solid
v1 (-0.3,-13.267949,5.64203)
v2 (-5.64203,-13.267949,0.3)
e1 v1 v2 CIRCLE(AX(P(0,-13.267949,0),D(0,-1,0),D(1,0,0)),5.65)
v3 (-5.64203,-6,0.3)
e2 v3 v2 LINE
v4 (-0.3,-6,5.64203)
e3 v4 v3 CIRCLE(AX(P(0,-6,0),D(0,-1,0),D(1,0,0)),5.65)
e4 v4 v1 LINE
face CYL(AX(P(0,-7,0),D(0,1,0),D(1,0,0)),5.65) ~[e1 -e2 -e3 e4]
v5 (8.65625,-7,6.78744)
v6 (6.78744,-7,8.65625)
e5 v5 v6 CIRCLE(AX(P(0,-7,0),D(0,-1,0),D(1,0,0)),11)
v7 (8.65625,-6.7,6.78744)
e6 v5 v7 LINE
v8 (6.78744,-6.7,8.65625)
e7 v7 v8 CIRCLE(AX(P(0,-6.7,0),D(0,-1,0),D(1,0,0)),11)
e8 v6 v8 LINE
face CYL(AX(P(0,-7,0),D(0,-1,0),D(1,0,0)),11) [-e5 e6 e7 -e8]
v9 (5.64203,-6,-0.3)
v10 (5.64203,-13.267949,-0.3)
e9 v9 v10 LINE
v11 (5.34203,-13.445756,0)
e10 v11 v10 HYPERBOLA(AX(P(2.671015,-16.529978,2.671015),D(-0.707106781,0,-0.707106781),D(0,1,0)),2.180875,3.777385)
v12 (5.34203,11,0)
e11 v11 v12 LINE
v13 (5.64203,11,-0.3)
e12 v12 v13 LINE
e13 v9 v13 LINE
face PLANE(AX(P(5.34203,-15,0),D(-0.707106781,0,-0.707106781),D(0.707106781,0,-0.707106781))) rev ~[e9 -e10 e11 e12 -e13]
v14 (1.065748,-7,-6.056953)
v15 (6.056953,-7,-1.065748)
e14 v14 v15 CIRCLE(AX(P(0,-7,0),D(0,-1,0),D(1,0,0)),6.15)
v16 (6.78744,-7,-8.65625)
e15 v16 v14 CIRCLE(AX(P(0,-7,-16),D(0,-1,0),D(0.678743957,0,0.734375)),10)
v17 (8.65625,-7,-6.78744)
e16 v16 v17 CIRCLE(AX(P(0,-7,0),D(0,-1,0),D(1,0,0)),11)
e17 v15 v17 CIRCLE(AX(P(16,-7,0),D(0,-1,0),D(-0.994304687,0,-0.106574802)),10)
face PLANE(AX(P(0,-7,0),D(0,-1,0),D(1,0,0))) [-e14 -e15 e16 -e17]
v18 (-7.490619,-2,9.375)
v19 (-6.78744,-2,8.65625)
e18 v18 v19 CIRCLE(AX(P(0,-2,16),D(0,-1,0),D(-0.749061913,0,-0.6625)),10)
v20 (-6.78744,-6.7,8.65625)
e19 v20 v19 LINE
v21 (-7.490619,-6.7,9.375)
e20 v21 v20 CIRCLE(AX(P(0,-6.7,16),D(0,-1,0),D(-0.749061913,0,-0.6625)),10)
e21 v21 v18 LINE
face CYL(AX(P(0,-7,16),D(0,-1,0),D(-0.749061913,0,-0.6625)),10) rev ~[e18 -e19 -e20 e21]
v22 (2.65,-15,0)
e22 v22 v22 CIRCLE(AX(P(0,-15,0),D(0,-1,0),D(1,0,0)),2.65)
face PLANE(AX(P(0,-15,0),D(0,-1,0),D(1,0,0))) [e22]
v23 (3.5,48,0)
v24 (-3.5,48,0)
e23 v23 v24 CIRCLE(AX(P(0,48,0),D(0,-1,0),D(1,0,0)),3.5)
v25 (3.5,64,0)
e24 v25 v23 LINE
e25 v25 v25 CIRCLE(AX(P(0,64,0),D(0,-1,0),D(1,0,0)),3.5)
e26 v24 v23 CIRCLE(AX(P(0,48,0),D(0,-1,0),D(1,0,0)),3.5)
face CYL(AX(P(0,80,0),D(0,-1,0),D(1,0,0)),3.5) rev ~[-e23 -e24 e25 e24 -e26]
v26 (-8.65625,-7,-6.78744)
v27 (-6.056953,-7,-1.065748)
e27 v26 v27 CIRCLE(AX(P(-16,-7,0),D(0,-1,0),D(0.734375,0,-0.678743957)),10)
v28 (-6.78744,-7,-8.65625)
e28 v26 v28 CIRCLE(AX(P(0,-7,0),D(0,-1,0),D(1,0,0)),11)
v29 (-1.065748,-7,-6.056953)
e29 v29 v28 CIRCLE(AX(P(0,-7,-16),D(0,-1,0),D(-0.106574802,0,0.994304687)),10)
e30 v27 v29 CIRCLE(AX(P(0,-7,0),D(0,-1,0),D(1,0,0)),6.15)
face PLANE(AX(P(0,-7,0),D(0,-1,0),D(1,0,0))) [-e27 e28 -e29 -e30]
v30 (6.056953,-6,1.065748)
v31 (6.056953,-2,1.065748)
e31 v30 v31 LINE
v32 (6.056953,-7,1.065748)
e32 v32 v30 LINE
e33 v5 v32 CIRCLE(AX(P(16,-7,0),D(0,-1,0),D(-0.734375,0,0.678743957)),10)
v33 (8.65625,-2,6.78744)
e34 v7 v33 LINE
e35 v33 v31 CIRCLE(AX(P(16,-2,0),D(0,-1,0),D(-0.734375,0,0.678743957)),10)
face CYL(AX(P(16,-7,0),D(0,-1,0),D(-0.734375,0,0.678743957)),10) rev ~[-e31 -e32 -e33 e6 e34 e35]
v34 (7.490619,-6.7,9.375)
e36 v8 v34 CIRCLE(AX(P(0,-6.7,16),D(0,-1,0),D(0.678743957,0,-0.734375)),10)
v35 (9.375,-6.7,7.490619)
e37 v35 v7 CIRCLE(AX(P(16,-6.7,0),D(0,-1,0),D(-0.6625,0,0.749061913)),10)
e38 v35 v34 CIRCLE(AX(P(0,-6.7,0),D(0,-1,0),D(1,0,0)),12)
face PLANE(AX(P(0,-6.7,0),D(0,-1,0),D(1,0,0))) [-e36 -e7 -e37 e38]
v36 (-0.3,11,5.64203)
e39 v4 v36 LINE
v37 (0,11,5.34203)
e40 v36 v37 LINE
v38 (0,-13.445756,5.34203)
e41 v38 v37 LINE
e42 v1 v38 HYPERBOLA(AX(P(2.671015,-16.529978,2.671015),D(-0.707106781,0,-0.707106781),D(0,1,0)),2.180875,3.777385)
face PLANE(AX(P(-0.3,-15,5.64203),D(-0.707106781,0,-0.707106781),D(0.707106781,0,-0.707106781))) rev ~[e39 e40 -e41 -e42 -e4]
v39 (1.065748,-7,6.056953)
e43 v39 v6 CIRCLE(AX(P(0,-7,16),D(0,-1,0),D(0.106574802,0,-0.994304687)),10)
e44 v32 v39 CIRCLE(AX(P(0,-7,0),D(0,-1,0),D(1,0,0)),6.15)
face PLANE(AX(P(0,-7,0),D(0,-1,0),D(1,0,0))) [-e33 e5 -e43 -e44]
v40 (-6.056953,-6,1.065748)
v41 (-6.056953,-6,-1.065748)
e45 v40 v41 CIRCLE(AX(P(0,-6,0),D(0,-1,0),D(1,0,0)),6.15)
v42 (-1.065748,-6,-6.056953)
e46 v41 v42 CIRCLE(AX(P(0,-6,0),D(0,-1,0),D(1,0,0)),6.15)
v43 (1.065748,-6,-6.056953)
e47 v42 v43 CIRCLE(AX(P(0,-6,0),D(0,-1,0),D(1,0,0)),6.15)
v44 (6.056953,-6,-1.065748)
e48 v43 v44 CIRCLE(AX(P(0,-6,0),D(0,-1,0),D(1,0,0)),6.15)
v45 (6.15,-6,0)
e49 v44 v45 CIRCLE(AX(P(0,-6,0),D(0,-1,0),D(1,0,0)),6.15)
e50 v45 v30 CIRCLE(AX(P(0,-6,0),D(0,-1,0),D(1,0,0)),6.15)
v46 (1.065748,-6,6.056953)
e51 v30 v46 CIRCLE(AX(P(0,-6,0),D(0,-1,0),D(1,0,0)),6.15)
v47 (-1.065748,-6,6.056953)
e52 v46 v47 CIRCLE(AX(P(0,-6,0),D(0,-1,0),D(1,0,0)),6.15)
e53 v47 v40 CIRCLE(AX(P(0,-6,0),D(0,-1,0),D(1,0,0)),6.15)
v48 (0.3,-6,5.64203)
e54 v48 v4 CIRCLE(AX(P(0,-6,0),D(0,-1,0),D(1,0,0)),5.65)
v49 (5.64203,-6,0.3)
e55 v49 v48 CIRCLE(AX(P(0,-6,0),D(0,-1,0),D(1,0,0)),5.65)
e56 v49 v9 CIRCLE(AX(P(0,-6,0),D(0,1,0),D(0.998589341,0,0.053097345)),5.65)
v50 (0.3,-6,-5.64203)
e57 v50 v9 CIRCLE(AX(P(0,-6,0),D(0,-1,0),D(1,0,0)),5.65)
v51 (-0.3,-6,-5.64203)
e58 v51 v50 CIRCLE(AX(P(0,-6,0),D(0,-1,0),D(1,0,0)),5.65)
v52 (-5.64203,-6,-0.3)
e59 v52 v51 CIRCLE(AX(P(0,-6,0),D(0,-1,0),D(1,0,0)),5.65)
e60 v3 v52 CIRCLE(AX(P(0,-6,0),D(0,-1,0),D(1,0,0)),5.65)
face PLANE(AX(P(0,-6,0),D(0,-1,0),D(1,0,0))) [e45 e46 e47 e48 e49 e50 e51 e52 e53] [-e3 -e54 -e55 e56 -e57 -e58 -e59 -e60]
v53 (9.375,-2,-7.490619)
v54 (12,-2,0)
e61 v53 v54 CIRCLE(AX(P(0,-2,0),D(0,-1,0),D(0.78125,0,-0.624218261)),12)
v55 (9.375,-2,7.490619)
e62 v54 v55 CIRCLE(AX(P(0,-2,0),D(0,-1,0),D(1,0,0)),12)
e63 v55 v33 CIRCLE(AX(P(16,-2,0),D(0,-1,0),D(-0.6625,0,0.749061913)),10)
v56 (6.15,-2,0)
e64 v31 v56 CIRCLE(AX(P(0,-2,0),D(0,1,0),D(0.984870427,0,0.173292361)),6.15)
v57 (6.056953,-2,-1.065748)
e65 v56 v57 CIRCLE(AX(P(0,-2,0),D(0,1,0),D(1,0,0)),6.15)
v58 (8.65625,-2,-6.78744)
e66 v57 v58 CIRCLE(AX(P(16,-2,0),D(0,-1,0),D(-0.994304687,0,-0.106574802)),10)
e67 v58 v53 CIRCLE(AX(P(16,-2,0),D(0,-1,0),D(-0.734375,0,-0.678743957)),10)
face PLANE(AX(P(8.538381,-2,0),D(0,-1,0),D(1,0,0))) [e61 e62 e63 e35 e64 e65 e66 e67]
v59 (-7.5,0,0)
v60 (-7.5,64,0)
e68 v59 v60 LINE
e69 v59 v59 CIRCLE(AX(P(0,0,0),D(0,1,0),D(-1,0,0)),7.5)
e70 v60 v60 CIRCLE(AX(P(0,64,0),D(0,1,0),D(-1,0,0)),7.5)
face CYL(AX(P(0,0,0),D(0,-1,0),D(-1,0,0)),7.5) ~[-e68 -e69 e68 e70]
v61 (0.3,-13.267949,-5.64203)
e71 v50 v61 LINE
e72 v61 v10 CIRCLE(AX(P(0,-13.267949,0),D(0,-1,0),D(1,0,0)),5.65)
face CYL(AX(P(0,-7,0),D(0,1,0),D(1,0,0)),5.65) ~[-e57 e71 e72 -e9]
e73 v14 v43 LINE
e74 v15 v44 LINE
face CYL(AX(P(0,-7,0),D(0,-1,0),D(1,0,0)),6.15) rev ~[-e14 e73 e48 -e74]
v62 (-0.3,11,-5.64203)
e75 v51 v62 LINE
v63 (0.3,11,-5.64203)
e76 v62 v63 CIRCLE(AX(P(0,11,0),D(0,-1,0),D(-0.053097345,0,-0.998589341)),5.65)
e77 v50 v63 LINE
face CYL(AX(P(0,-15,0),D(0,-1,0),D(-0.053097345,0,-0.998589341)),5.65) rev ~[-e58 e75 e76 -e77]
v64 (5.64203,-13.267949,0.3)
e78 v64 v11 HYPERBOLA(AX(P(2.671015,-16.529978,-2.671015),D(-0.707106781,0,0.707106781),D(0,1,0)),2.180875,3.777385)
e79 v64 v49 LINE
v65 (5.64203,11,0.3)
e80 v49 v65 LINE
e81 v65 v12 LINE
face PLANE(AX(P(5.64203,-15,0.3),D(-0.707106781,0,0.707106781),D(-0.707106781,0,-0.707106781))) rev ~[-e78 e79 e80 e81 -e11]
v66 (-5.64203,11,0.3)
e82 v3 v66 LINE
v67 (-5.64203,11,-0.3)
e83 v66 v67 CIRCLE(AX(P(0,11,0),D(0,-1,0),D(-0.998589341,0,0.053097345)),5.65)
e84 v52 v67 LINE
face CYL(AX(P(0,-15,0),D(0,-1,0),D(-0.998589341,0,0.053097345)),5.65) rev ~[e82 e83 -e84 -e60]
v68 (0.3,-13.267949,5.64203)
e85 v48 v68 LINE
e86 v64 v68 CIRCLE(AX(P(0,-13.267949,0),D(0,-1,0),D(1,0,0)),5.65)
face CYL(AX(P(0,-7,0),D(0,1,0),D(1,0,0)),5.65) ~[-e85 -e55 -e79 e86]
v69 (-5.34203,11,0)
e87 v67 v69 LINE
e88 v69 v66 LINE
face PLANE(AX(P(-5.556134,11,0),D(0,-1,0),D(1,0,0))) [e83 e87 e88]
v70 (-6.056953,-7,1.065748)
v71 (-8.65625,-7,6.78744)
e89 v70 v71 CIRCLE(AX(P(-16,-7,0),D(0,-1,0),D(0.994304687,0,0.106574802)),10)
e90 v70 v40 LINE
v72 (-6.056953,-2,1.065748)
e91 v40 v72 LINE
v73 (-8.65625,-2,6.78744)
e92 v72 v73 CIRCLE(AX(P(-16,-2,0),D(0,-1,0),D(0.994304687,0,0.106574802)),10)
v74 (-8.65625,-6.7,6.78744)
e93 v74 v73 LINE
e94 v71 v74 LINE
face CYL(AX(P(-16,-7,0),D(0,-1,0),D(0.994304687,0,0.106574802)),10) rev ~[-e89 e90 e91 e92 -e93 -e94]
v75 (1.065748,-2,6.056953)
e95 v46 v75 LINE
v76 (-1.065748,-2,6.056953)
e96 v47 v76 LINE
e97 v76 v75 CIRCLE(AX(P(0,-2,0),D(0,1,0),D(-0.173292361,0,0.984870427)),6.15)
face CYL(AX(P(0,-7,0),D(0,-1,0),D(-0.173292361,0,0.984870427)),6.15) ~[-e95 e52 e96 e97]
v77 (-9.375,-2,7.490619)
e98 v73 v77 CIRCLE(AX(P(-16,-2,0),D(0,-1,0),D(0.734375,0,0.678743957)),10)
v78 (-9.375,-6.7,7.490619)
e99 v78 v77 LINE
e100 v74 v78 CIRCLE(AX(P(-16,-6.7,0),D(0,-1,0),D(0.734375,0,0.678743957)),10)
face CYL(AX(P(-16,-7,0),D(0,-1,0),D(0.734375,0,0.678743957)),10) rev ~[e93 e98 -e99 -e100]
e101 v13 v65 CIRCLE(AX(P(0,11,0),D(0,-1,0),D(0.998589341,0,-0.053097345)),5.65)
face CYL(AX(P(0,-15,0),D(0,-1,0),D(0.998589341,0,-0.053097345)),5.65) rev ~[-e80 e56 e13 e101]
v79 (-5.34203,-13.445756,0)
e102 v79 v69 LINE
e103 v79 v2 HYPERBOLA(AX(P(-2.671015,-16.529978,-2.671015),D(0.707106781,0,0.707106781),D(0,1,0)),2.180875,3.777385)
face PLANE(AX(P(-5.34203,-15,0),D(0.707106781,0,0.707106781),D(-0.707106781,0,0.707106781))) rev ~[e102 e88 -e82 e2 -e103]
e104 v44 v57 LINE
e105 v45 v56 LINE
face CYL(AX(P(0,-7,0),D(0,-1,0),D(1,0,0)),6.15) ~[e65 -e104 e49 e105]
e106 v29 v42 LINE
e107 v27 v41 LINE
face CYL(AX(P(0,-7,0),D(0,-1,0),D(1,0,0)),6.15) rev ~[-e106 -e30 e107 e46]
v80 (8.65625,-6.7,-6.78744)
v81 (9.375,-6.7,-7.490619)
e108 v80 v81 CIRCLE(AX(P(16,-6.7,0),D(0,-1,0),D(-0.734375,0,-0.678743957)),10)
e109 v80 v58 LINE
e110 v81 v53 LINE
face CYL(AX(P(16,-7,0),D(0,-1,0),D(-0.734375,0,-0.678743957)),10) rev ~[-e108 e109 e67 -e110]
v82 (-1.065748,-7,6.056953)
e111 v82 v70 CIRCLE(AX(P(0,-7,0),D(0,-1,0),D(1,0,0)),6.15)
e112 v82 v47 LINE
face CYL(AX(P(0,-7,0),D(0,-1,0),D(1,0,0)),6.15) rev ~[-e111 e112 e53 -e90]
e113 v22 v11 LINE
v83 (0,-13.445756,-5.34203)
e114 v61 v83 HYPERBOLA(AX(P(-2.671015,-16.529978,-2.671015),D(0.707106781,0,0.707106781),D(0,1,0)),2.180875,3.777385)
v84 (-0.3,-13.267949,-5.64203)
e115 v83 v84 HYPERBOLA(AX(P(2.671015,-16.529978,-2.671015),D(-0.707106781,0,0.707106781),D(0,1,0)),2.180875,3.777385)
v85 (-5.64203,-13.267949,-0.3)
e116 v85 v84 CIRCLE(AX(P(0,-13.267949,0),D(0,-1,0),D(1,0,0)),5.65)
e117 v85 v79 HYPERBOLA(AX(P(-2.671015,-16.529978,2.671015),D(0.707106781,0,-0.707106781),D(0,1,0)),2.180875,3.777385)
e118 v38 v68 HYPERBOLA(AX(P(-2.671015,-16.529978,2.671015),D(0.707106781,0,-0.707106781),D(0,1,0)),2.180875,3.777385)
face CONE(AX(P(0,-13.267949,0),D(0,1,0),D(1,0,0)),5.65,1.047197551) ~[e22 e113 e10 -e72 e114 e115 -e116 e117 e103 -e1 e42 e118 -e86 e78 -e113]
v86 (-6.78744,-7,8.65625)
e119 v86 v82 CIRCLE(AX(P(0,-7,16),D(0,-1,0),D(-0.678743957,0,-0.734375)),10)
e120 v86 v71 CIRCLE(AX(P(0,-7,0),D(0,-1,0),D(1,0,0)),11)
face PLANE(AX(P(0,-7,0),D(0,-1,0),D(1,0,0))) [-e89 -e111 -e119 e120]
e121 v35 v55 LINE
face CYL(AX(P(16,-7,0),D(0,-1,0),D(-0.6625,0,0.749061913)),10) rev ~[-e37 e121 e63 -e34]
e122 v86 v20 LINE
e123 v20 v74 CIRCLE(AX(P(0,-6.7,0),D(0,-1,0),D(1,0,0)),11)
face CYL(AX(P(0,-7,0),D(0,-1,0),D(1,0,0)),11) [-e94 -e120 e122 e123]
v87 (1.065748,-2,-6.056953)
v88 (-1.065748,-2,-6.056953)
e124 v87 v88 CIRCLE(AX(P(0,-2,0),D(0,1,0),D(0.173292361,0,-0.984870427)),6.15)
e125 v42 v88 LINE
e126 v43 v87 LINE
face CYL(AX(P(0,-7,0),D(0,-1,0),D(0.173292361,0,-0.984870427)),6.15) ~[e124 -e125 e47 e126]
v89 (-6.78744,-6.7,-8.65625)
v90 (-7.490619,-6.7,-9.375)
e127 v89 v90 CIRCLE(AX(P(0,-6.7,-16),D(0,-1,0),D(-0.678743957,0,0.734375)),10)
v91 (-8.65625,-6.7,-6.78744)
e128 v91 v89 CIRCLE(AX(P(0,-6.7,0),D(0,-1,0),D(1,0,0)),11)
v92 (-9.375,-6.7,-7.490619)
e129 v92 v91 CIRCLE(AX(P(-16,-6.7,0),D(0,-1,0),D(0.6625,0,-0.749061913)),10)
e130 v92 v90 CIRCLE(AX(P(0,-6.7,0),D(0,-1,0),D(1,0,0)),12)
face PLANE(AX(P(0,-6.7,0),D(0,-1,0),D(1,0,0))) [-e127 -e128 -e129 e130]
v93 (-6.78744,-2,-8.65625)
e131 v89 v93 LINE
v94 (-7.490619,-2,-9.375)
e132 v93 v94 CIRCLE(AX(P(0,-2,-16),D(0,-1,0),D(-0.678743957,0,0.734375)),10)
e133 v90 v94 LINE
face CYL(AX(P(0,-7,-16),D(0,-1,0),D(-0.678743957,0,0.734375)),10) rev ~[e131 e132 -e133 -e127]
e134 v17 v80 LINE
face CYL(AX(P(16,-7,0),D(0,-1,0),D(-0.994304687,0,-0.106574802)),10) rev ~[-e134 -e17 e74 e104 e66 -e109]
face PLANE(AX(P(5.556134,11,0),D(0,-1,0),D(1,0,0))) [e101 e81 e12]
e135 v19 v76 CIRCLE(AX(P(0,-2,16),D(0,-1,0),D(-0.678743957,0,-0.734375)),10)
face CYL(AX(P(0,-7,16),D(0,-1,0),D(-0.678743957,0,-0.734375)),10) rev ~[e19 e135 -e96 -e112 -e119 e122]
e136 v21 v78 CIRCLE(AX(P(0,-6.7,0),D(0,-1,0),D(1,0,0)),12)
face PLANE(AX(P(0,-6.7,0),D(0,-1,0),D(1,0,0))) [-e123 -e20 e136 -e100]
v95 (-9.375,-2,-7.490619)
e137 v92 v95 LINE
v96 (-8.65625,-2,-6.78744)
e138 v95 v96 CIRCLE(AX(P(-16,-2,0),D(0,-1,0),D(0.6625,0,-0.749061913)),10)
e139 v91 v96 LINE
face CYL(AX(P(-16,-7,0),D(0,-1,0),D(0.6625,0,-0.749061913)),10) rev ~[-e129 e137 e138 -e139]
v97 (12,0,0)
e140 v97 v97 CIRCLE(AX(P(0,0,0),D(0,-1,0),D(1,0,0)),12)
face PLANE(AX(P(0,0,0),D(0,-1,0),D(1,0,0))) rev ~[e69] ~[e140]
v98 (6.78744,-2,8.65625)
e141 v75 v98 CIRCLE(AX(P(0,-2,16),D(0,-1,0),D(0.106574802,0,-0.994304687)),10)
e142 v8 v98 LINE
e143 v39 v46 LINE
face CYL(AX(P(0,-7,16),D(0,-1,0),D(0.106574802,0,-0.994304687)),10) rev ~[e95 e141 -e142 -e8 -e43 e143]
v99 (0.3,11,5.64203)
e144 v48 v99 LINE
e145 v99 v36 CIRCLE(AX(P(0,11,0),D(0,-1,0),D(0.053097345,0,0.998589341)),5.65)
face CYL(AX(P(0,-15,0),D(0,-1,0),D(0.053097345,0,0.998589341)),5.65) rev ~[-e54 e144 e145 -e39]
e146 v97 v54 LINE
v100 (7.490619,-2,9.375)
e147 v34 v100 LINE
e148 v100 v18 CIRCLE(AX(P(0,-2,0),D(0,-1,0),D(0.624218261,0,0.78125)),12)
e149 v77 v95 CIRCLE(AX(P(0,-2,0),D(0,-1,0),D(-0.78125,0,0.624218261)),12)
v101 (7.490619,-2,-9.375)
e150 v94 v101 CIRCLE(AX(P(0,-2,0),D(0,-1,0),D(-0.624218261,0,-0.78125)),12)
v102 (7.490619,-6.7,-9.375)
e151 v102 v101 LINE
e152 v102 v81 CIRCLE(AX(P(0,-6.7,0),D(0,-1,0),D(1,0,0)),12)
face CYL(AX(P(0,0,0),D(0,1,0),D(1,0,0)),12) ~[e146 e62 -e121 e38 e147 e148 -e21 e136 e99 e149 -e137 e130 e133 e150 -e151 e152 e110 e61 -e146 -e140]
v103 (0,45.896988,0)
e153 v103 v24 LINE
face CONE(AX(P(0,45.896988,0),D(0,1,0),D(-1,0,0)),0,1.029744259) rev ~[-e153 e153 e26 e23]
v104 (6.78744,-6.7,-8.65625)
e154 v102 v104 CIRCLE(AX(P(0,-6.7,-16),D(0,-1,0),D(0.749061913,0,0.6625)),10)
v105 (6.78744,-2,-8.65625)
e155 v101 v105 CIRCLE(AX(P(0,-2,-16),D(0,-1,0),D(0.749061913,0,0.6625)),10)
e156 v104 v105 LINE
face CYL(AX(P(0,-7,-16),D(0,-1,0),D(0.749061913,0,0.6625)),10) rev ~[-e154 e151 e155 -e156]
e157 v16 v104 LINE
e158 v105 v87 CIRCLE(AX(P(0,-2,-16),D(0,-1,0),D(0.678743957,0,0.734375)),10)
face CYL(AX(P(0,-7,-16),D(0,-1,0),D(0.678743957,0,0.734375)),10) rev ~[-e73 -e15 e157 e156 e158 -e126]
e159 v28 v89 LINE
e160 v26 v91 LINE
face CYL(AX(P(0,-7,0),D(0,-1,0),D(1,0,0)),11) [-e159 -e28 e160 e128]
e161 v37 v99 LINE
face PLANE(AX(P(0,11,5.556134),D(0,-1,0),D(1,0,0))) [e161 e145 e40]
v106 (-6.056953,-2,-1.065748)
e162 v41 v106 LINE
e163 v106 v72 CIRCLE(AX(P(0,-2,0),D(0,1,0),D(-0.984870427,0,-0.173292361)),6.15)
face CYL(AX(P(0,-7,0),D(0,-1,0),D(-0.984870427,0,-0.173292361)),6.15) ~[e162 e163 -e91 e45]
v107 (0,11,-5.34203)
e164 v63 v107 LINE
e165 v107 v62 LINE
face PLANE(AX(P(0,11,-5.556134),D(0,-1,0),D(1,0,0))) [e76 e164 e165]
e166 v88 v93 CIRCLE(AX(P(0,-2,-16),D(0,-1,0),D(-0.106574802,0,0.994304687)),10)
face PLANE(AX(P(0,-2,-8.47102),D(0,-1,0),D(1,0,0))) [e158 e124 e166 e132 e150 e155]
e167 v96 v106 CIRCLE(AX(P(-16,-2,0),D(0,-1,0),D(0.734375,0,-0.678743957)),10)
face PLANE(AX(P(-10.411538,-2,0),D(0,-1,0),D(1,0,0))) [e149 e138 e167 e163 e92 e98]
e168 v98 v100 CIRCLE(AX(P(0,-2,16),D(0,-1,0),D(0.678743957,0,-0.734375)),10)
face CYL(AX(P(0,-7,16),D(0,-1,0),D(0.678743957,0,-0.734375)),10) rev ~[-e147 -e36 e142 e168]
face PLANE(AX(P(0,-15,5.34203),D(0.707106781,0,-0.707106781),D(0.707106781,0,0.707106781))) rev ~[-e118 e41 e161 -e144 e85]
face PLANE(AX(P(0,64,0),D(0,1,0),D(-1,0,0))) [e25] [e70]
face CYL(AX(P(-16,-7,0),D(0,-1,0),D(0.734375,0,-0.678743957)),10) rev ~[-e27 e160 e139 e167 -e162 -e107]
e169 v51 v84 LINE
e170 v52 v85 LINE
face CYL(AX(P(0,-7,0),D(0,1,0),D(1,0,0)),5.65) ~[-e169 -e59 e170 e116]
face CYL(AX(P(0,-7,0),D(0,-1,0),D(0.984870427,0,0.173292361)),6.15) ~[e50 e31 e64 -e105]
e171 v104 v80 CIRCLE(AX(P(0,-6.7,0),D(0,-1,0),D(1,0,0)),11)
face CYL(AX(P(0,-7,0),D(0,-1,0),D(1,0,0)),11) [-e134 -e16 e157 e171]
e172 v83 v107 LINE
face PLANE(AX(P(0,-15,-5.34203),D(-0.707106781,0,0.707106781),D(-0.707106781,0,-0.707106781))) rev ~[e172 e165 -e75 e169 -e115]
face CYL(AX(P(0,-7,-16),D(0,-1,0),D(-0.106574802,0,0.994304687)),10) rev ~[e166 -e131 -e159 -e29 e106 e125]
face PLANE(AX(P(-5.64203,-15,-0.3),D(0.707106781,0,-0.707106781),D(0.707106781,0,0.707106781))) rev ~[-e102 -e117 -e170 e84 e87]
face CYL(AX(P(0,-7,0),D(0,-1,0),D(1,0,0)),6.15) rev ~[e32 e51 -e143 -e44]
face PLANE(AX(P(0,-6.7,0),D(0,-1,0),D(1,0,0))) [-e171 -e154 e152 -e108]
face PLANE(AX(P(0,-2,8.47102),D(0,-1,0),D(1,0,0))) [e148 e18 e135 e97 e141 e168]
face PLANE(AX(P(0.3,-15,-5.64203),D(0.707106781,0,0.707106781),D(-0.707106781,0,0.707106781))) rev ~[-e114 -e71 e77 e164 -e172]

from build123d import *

# Parameters (mm, degrees)
F0_R      = 12
F1_DEPTH  = 7
F2_R      = 7.5
F3_DEPTH  = 64
F5_D      = 7
F5_DEPTH  = 16
F5_TIP    = 2.1030121666
F6_R      = 12
F6_R_2    = 11
F7_DEPTH  = 0.3
F8_R      = 5.65
F9_DEPTH  = 8
F10_SIZE2 = 1.7320508076
F10_SIZE  = 3
F11_R     = 6.15
F11_R_2   = 5.65
F12_DEPTH = 1
F14_DEPTH = 5
F16_DEPTH = 26


with BuildPart() as f1:
    # F0 (on Front) → F1 (new body)
    with BuildSketch(Plane.XZ):
        Circle(F0_R)
    extrude(amount=F1_DEPTH)

    # F2 (on face) → F3 (join)
    with BuildSketch(Plane(origin=(0, 0, 0), x_dir=(-1, 0, 0), z_dir=(0, 1, 0))):
        Circle(F2_R)
    extrude(amount=F3_DEPTH)

    # F5
    with Locations(Plane(origin=(0, 64, 0), x_dir=(-1, 0, 0), z_dir=(0, 1, 0))):
        with Locations((0, 0)):
            Hole(F5_D / 2, depth=F5_DEPTH)
            with Locations((0, 0, -(F5_DEPTH + F5_TIP / 2))):  # 118° drill point
                Cone(0, F5_D / 2, F5_TIP, mode=Mode.SUBTRACT)

    # F6 (on face) → F7 (cut)
    with BuildSketch(Plane.XZ.offset(7)):
        Circle(F6_R)
        Circle(F6_R_2, mode=Mode.SUBTRACT)
    extrude(amount=-F7_DEPTH, mode=Mode.SUBTRACT)

    # F8 (on face) → F9 (join)
    with BuildSketch(Plane.XZ.offset(7)):
        Circle(F8_R)
    extrude(amount=F9_DEPTH)

    # F10
    f10_edges = [f1.edges().sort_by_distance(p)[0] for p in [
        (-5.65, -15, 0),
    ]]
    f10_side = f1.faces().sort_by_distance((0, -15, 0))[0]
    chamfer(f10_edges, length=F10_SIZE, length2=F10_SIZE2, reference=f10_side)

    # F11 (on face) → F12 (cut)
    with BuildSketch(Plane.XZ.offset(7)):
        Circle(F11_R)
        Circle(F11_R_2, mode=Mode.SUBTRACT)
    extrude(amount=-F12_DEPTH, mode=Mode.SUBTRACT)

    # F13 (on face) → F14 (cut)
    with BuildSketch(Plane.XZ.offset(7)):
        with BuildLine():
            ThreePointArc((-9.375, 7.4906191333), (-12, 0), (-9.375, -7.4906191333))
            ThreePointArc((-9.375, -7.4906191333), (-9.0067811764, -7.148069004), (-8.65625, -6.7874395716))
            ThreePointArc((-8.65625, -6.7874395716), (-11, 0), (-8.65625, 6.7874395716))
            ThreePointArc((-8.65625, 6.7874395716), (-9.0067811764, 7.148069004), (-9.375, 7.4906191333))
        make_face()
        with BuildLine():
            ThreePointArc((-8.65625, 6.7874395716), (-11, 0), (-8.65625, -6.7874395716))
            ThreePointArc((-8.65625, -6.7874395716), (-6.8954530534, -4.1360881152), (-6.056953125, -1.0657480197))
            ThreePointArc((-6.056953125, -1.0657480197), (-6.15, 0), (-6.056953125, 1.0657480197))
            ThreePointArc((-6.056953125, 1.0657480197), (-6.8954530534, 4.1360881152), (-8.65625, 6.7874395716))
        make_face()
        with BuildLine():
            ThreePointArc((-1.0657480197, 6.056953125), (0, 6.15), (1.0657480197, 6.056953125))
            ThreePointArc((1.0657480197, 6.056953125), (4.1360881152, 6.8954530534), (6.7874395716, 8.65625))
            ThreePointArc((6.7874395716, 8.65625), (0, 11), (-6.7874395716, 8.65625))
            ThreePointArc((-6.7874395716, 8.65625), (-4.1360881152, 6.8954530534), (-1.0657480197, 6.056953125))
        make_face()
        with BuildLine():
            ThreePointArc((7.4906191333, 9.375), (0, 12), (-7.4906191333, 9.375))
            ThreePointArc((-7.4906191333, 9.375), (-7.148069004, 9.0067811764), (-6.7874395716, 8.65625))
            ThreePointArc((-6.7874395716, 8.65625), (0, 11), (6.7874395716, 8.65625))
            ThreePointArc((6.7874395716, 8.65625), (7.148069004, 9.0067811764), (7.4906191333, 9.375))
        make_face()
        with BuildLine():
            ThreePointArc((6.056953125, -1.0657480197), (6.8954530534, -4.1360881152), (8.65625, -6.7874395716))
            ThreePointArc((8.65625, -6.7874395716), (10.3975658209, -3.5903516541), (11, 0))
            ThreePointArc((11, 0), (10.3975658209, 3.5903516541), (8.65625, 6.7874395716))
            ThreePointArc((8.65625, 6.7874395716), (6.8954530534, 4.1360881152), (6.056953125, 1.0657480197))
            ThreePointArc((6.056953125, 1.0657480197), (6.1266941216, 0.5349010569), (6.15, 0))
            ThreePointArc((6.15, 0), (6.1266941216, -0.5349010569), (6.056953125, -1.0657480197))
        make_face()
        with BuildLine():
            ThreePointArc((8.65625, -6.7874395716), (9.0067811764, -7.148069004), (9.375, -7.4906191333))
            ThreePointArc((9.375, -7.4906191333), (11.3247516529, -3.9686269666), (12, 0))
            ThreePointArc((12, 0), (11.3247516529, 3.9686269666), (9.375, 7.4906191333))
            ThreePointArc((9.375, 7.4906191333), (9.0067811764, 7.148069004), (8.65625, 6.7874395716))
            ThreePointArc((8.65625, 6.7874395716), (10.3975658209, 3.5903516541), (11, 0))
            ThreePointArc((11, 0), (10.3975658209, -3.5903516541), (8.65625, -6.7874395716))
        make_face()
        with BuildLine():
            ThreePointArc((-6.7874395716, -8.65625), (0, -11), (6.7874395716, -8.65625))
            ThreePointArc((6.7874395716, -8.65625), (4.1360881152, -6.8954530534), (1.0657480197, -6.056953125))
            ThreePointArc((1.0657480197, -6.056953125), (0, -6.15), (-1.0657480197, -6.056953125))
            ThreePointArc((-1.0657480197, -6.056953125), (-4.1360881152, -6.8954530534), (-6.7874395716, -8.65625))
        make_face()
        with BuildLine():
            ThreePointArc((-7.4906191333, -9.375), (0, -12), (7.4906191333, -9.375))
            ThreePointArc((7.4906191333, -9.375), (7.148069004, -9.0067811764), (6.7874395716, -8.65625))
            ThreePointArc((6.7874395716, -8.65625), (0, -11), (-6.7874395716, -8.65625))
            ThreePointArc((-6.7874395716, -8.65625), (-7.148069004, -9.0067811764), (-7.4906191333, -9.375))
        make_face()
    extrude(amount=-F14_DEPTH, mode=Mode.SUBTRACT)

    # F15 (on face) → F16 (cut)
    with BuildSketch(Plane.XZ.offset(15)):
        with BuildLine():
            Line((0, 5.3420297766), (0.3, 5.6420297766))
            ThreePointArc((0.3, 5.6420297766), (0, 5.65), (-0.3, 5.6420297766))
            Line((-0.3, 5.6420297766), (0, 5.3420297766))
        make_face()
        with BuildLine():
            ThreePointArc((-5.6420297766, 0.3), (-5.65, 0), (-5.6420297766, -0.3))
            Line((-5.6420297766, -0.3), (-5.3420297766, 0))
            Line((-5.3420297766, 0), (-5.6420297766, 0.3))
        make_face()
        with BuildLine():
            ThreePointArc((-0.3, -5.6420297766), (0, -5.65), (0.3, -5.6420297766))
            Line((0.3, -5.6420297766), (0, -5.3420297766))
            Line((0, -5.3420297766), (-0.3, -5.6420297766))
        make_face()
        with BuildLine():
            ThreePointArc((5.6420297766, -0.3), (5.65, 0), (5.6420297766, 0.3))
            Line((5.6420297766, 0.3), (5.3420297766, 0))
            Line((5.3420297766, 0), (5.6420297766, -0.3))
        make_face()
    extrude(amount=-F16_DEPTH, mode=Mode.SUBTRACT)


solid = f1.part
